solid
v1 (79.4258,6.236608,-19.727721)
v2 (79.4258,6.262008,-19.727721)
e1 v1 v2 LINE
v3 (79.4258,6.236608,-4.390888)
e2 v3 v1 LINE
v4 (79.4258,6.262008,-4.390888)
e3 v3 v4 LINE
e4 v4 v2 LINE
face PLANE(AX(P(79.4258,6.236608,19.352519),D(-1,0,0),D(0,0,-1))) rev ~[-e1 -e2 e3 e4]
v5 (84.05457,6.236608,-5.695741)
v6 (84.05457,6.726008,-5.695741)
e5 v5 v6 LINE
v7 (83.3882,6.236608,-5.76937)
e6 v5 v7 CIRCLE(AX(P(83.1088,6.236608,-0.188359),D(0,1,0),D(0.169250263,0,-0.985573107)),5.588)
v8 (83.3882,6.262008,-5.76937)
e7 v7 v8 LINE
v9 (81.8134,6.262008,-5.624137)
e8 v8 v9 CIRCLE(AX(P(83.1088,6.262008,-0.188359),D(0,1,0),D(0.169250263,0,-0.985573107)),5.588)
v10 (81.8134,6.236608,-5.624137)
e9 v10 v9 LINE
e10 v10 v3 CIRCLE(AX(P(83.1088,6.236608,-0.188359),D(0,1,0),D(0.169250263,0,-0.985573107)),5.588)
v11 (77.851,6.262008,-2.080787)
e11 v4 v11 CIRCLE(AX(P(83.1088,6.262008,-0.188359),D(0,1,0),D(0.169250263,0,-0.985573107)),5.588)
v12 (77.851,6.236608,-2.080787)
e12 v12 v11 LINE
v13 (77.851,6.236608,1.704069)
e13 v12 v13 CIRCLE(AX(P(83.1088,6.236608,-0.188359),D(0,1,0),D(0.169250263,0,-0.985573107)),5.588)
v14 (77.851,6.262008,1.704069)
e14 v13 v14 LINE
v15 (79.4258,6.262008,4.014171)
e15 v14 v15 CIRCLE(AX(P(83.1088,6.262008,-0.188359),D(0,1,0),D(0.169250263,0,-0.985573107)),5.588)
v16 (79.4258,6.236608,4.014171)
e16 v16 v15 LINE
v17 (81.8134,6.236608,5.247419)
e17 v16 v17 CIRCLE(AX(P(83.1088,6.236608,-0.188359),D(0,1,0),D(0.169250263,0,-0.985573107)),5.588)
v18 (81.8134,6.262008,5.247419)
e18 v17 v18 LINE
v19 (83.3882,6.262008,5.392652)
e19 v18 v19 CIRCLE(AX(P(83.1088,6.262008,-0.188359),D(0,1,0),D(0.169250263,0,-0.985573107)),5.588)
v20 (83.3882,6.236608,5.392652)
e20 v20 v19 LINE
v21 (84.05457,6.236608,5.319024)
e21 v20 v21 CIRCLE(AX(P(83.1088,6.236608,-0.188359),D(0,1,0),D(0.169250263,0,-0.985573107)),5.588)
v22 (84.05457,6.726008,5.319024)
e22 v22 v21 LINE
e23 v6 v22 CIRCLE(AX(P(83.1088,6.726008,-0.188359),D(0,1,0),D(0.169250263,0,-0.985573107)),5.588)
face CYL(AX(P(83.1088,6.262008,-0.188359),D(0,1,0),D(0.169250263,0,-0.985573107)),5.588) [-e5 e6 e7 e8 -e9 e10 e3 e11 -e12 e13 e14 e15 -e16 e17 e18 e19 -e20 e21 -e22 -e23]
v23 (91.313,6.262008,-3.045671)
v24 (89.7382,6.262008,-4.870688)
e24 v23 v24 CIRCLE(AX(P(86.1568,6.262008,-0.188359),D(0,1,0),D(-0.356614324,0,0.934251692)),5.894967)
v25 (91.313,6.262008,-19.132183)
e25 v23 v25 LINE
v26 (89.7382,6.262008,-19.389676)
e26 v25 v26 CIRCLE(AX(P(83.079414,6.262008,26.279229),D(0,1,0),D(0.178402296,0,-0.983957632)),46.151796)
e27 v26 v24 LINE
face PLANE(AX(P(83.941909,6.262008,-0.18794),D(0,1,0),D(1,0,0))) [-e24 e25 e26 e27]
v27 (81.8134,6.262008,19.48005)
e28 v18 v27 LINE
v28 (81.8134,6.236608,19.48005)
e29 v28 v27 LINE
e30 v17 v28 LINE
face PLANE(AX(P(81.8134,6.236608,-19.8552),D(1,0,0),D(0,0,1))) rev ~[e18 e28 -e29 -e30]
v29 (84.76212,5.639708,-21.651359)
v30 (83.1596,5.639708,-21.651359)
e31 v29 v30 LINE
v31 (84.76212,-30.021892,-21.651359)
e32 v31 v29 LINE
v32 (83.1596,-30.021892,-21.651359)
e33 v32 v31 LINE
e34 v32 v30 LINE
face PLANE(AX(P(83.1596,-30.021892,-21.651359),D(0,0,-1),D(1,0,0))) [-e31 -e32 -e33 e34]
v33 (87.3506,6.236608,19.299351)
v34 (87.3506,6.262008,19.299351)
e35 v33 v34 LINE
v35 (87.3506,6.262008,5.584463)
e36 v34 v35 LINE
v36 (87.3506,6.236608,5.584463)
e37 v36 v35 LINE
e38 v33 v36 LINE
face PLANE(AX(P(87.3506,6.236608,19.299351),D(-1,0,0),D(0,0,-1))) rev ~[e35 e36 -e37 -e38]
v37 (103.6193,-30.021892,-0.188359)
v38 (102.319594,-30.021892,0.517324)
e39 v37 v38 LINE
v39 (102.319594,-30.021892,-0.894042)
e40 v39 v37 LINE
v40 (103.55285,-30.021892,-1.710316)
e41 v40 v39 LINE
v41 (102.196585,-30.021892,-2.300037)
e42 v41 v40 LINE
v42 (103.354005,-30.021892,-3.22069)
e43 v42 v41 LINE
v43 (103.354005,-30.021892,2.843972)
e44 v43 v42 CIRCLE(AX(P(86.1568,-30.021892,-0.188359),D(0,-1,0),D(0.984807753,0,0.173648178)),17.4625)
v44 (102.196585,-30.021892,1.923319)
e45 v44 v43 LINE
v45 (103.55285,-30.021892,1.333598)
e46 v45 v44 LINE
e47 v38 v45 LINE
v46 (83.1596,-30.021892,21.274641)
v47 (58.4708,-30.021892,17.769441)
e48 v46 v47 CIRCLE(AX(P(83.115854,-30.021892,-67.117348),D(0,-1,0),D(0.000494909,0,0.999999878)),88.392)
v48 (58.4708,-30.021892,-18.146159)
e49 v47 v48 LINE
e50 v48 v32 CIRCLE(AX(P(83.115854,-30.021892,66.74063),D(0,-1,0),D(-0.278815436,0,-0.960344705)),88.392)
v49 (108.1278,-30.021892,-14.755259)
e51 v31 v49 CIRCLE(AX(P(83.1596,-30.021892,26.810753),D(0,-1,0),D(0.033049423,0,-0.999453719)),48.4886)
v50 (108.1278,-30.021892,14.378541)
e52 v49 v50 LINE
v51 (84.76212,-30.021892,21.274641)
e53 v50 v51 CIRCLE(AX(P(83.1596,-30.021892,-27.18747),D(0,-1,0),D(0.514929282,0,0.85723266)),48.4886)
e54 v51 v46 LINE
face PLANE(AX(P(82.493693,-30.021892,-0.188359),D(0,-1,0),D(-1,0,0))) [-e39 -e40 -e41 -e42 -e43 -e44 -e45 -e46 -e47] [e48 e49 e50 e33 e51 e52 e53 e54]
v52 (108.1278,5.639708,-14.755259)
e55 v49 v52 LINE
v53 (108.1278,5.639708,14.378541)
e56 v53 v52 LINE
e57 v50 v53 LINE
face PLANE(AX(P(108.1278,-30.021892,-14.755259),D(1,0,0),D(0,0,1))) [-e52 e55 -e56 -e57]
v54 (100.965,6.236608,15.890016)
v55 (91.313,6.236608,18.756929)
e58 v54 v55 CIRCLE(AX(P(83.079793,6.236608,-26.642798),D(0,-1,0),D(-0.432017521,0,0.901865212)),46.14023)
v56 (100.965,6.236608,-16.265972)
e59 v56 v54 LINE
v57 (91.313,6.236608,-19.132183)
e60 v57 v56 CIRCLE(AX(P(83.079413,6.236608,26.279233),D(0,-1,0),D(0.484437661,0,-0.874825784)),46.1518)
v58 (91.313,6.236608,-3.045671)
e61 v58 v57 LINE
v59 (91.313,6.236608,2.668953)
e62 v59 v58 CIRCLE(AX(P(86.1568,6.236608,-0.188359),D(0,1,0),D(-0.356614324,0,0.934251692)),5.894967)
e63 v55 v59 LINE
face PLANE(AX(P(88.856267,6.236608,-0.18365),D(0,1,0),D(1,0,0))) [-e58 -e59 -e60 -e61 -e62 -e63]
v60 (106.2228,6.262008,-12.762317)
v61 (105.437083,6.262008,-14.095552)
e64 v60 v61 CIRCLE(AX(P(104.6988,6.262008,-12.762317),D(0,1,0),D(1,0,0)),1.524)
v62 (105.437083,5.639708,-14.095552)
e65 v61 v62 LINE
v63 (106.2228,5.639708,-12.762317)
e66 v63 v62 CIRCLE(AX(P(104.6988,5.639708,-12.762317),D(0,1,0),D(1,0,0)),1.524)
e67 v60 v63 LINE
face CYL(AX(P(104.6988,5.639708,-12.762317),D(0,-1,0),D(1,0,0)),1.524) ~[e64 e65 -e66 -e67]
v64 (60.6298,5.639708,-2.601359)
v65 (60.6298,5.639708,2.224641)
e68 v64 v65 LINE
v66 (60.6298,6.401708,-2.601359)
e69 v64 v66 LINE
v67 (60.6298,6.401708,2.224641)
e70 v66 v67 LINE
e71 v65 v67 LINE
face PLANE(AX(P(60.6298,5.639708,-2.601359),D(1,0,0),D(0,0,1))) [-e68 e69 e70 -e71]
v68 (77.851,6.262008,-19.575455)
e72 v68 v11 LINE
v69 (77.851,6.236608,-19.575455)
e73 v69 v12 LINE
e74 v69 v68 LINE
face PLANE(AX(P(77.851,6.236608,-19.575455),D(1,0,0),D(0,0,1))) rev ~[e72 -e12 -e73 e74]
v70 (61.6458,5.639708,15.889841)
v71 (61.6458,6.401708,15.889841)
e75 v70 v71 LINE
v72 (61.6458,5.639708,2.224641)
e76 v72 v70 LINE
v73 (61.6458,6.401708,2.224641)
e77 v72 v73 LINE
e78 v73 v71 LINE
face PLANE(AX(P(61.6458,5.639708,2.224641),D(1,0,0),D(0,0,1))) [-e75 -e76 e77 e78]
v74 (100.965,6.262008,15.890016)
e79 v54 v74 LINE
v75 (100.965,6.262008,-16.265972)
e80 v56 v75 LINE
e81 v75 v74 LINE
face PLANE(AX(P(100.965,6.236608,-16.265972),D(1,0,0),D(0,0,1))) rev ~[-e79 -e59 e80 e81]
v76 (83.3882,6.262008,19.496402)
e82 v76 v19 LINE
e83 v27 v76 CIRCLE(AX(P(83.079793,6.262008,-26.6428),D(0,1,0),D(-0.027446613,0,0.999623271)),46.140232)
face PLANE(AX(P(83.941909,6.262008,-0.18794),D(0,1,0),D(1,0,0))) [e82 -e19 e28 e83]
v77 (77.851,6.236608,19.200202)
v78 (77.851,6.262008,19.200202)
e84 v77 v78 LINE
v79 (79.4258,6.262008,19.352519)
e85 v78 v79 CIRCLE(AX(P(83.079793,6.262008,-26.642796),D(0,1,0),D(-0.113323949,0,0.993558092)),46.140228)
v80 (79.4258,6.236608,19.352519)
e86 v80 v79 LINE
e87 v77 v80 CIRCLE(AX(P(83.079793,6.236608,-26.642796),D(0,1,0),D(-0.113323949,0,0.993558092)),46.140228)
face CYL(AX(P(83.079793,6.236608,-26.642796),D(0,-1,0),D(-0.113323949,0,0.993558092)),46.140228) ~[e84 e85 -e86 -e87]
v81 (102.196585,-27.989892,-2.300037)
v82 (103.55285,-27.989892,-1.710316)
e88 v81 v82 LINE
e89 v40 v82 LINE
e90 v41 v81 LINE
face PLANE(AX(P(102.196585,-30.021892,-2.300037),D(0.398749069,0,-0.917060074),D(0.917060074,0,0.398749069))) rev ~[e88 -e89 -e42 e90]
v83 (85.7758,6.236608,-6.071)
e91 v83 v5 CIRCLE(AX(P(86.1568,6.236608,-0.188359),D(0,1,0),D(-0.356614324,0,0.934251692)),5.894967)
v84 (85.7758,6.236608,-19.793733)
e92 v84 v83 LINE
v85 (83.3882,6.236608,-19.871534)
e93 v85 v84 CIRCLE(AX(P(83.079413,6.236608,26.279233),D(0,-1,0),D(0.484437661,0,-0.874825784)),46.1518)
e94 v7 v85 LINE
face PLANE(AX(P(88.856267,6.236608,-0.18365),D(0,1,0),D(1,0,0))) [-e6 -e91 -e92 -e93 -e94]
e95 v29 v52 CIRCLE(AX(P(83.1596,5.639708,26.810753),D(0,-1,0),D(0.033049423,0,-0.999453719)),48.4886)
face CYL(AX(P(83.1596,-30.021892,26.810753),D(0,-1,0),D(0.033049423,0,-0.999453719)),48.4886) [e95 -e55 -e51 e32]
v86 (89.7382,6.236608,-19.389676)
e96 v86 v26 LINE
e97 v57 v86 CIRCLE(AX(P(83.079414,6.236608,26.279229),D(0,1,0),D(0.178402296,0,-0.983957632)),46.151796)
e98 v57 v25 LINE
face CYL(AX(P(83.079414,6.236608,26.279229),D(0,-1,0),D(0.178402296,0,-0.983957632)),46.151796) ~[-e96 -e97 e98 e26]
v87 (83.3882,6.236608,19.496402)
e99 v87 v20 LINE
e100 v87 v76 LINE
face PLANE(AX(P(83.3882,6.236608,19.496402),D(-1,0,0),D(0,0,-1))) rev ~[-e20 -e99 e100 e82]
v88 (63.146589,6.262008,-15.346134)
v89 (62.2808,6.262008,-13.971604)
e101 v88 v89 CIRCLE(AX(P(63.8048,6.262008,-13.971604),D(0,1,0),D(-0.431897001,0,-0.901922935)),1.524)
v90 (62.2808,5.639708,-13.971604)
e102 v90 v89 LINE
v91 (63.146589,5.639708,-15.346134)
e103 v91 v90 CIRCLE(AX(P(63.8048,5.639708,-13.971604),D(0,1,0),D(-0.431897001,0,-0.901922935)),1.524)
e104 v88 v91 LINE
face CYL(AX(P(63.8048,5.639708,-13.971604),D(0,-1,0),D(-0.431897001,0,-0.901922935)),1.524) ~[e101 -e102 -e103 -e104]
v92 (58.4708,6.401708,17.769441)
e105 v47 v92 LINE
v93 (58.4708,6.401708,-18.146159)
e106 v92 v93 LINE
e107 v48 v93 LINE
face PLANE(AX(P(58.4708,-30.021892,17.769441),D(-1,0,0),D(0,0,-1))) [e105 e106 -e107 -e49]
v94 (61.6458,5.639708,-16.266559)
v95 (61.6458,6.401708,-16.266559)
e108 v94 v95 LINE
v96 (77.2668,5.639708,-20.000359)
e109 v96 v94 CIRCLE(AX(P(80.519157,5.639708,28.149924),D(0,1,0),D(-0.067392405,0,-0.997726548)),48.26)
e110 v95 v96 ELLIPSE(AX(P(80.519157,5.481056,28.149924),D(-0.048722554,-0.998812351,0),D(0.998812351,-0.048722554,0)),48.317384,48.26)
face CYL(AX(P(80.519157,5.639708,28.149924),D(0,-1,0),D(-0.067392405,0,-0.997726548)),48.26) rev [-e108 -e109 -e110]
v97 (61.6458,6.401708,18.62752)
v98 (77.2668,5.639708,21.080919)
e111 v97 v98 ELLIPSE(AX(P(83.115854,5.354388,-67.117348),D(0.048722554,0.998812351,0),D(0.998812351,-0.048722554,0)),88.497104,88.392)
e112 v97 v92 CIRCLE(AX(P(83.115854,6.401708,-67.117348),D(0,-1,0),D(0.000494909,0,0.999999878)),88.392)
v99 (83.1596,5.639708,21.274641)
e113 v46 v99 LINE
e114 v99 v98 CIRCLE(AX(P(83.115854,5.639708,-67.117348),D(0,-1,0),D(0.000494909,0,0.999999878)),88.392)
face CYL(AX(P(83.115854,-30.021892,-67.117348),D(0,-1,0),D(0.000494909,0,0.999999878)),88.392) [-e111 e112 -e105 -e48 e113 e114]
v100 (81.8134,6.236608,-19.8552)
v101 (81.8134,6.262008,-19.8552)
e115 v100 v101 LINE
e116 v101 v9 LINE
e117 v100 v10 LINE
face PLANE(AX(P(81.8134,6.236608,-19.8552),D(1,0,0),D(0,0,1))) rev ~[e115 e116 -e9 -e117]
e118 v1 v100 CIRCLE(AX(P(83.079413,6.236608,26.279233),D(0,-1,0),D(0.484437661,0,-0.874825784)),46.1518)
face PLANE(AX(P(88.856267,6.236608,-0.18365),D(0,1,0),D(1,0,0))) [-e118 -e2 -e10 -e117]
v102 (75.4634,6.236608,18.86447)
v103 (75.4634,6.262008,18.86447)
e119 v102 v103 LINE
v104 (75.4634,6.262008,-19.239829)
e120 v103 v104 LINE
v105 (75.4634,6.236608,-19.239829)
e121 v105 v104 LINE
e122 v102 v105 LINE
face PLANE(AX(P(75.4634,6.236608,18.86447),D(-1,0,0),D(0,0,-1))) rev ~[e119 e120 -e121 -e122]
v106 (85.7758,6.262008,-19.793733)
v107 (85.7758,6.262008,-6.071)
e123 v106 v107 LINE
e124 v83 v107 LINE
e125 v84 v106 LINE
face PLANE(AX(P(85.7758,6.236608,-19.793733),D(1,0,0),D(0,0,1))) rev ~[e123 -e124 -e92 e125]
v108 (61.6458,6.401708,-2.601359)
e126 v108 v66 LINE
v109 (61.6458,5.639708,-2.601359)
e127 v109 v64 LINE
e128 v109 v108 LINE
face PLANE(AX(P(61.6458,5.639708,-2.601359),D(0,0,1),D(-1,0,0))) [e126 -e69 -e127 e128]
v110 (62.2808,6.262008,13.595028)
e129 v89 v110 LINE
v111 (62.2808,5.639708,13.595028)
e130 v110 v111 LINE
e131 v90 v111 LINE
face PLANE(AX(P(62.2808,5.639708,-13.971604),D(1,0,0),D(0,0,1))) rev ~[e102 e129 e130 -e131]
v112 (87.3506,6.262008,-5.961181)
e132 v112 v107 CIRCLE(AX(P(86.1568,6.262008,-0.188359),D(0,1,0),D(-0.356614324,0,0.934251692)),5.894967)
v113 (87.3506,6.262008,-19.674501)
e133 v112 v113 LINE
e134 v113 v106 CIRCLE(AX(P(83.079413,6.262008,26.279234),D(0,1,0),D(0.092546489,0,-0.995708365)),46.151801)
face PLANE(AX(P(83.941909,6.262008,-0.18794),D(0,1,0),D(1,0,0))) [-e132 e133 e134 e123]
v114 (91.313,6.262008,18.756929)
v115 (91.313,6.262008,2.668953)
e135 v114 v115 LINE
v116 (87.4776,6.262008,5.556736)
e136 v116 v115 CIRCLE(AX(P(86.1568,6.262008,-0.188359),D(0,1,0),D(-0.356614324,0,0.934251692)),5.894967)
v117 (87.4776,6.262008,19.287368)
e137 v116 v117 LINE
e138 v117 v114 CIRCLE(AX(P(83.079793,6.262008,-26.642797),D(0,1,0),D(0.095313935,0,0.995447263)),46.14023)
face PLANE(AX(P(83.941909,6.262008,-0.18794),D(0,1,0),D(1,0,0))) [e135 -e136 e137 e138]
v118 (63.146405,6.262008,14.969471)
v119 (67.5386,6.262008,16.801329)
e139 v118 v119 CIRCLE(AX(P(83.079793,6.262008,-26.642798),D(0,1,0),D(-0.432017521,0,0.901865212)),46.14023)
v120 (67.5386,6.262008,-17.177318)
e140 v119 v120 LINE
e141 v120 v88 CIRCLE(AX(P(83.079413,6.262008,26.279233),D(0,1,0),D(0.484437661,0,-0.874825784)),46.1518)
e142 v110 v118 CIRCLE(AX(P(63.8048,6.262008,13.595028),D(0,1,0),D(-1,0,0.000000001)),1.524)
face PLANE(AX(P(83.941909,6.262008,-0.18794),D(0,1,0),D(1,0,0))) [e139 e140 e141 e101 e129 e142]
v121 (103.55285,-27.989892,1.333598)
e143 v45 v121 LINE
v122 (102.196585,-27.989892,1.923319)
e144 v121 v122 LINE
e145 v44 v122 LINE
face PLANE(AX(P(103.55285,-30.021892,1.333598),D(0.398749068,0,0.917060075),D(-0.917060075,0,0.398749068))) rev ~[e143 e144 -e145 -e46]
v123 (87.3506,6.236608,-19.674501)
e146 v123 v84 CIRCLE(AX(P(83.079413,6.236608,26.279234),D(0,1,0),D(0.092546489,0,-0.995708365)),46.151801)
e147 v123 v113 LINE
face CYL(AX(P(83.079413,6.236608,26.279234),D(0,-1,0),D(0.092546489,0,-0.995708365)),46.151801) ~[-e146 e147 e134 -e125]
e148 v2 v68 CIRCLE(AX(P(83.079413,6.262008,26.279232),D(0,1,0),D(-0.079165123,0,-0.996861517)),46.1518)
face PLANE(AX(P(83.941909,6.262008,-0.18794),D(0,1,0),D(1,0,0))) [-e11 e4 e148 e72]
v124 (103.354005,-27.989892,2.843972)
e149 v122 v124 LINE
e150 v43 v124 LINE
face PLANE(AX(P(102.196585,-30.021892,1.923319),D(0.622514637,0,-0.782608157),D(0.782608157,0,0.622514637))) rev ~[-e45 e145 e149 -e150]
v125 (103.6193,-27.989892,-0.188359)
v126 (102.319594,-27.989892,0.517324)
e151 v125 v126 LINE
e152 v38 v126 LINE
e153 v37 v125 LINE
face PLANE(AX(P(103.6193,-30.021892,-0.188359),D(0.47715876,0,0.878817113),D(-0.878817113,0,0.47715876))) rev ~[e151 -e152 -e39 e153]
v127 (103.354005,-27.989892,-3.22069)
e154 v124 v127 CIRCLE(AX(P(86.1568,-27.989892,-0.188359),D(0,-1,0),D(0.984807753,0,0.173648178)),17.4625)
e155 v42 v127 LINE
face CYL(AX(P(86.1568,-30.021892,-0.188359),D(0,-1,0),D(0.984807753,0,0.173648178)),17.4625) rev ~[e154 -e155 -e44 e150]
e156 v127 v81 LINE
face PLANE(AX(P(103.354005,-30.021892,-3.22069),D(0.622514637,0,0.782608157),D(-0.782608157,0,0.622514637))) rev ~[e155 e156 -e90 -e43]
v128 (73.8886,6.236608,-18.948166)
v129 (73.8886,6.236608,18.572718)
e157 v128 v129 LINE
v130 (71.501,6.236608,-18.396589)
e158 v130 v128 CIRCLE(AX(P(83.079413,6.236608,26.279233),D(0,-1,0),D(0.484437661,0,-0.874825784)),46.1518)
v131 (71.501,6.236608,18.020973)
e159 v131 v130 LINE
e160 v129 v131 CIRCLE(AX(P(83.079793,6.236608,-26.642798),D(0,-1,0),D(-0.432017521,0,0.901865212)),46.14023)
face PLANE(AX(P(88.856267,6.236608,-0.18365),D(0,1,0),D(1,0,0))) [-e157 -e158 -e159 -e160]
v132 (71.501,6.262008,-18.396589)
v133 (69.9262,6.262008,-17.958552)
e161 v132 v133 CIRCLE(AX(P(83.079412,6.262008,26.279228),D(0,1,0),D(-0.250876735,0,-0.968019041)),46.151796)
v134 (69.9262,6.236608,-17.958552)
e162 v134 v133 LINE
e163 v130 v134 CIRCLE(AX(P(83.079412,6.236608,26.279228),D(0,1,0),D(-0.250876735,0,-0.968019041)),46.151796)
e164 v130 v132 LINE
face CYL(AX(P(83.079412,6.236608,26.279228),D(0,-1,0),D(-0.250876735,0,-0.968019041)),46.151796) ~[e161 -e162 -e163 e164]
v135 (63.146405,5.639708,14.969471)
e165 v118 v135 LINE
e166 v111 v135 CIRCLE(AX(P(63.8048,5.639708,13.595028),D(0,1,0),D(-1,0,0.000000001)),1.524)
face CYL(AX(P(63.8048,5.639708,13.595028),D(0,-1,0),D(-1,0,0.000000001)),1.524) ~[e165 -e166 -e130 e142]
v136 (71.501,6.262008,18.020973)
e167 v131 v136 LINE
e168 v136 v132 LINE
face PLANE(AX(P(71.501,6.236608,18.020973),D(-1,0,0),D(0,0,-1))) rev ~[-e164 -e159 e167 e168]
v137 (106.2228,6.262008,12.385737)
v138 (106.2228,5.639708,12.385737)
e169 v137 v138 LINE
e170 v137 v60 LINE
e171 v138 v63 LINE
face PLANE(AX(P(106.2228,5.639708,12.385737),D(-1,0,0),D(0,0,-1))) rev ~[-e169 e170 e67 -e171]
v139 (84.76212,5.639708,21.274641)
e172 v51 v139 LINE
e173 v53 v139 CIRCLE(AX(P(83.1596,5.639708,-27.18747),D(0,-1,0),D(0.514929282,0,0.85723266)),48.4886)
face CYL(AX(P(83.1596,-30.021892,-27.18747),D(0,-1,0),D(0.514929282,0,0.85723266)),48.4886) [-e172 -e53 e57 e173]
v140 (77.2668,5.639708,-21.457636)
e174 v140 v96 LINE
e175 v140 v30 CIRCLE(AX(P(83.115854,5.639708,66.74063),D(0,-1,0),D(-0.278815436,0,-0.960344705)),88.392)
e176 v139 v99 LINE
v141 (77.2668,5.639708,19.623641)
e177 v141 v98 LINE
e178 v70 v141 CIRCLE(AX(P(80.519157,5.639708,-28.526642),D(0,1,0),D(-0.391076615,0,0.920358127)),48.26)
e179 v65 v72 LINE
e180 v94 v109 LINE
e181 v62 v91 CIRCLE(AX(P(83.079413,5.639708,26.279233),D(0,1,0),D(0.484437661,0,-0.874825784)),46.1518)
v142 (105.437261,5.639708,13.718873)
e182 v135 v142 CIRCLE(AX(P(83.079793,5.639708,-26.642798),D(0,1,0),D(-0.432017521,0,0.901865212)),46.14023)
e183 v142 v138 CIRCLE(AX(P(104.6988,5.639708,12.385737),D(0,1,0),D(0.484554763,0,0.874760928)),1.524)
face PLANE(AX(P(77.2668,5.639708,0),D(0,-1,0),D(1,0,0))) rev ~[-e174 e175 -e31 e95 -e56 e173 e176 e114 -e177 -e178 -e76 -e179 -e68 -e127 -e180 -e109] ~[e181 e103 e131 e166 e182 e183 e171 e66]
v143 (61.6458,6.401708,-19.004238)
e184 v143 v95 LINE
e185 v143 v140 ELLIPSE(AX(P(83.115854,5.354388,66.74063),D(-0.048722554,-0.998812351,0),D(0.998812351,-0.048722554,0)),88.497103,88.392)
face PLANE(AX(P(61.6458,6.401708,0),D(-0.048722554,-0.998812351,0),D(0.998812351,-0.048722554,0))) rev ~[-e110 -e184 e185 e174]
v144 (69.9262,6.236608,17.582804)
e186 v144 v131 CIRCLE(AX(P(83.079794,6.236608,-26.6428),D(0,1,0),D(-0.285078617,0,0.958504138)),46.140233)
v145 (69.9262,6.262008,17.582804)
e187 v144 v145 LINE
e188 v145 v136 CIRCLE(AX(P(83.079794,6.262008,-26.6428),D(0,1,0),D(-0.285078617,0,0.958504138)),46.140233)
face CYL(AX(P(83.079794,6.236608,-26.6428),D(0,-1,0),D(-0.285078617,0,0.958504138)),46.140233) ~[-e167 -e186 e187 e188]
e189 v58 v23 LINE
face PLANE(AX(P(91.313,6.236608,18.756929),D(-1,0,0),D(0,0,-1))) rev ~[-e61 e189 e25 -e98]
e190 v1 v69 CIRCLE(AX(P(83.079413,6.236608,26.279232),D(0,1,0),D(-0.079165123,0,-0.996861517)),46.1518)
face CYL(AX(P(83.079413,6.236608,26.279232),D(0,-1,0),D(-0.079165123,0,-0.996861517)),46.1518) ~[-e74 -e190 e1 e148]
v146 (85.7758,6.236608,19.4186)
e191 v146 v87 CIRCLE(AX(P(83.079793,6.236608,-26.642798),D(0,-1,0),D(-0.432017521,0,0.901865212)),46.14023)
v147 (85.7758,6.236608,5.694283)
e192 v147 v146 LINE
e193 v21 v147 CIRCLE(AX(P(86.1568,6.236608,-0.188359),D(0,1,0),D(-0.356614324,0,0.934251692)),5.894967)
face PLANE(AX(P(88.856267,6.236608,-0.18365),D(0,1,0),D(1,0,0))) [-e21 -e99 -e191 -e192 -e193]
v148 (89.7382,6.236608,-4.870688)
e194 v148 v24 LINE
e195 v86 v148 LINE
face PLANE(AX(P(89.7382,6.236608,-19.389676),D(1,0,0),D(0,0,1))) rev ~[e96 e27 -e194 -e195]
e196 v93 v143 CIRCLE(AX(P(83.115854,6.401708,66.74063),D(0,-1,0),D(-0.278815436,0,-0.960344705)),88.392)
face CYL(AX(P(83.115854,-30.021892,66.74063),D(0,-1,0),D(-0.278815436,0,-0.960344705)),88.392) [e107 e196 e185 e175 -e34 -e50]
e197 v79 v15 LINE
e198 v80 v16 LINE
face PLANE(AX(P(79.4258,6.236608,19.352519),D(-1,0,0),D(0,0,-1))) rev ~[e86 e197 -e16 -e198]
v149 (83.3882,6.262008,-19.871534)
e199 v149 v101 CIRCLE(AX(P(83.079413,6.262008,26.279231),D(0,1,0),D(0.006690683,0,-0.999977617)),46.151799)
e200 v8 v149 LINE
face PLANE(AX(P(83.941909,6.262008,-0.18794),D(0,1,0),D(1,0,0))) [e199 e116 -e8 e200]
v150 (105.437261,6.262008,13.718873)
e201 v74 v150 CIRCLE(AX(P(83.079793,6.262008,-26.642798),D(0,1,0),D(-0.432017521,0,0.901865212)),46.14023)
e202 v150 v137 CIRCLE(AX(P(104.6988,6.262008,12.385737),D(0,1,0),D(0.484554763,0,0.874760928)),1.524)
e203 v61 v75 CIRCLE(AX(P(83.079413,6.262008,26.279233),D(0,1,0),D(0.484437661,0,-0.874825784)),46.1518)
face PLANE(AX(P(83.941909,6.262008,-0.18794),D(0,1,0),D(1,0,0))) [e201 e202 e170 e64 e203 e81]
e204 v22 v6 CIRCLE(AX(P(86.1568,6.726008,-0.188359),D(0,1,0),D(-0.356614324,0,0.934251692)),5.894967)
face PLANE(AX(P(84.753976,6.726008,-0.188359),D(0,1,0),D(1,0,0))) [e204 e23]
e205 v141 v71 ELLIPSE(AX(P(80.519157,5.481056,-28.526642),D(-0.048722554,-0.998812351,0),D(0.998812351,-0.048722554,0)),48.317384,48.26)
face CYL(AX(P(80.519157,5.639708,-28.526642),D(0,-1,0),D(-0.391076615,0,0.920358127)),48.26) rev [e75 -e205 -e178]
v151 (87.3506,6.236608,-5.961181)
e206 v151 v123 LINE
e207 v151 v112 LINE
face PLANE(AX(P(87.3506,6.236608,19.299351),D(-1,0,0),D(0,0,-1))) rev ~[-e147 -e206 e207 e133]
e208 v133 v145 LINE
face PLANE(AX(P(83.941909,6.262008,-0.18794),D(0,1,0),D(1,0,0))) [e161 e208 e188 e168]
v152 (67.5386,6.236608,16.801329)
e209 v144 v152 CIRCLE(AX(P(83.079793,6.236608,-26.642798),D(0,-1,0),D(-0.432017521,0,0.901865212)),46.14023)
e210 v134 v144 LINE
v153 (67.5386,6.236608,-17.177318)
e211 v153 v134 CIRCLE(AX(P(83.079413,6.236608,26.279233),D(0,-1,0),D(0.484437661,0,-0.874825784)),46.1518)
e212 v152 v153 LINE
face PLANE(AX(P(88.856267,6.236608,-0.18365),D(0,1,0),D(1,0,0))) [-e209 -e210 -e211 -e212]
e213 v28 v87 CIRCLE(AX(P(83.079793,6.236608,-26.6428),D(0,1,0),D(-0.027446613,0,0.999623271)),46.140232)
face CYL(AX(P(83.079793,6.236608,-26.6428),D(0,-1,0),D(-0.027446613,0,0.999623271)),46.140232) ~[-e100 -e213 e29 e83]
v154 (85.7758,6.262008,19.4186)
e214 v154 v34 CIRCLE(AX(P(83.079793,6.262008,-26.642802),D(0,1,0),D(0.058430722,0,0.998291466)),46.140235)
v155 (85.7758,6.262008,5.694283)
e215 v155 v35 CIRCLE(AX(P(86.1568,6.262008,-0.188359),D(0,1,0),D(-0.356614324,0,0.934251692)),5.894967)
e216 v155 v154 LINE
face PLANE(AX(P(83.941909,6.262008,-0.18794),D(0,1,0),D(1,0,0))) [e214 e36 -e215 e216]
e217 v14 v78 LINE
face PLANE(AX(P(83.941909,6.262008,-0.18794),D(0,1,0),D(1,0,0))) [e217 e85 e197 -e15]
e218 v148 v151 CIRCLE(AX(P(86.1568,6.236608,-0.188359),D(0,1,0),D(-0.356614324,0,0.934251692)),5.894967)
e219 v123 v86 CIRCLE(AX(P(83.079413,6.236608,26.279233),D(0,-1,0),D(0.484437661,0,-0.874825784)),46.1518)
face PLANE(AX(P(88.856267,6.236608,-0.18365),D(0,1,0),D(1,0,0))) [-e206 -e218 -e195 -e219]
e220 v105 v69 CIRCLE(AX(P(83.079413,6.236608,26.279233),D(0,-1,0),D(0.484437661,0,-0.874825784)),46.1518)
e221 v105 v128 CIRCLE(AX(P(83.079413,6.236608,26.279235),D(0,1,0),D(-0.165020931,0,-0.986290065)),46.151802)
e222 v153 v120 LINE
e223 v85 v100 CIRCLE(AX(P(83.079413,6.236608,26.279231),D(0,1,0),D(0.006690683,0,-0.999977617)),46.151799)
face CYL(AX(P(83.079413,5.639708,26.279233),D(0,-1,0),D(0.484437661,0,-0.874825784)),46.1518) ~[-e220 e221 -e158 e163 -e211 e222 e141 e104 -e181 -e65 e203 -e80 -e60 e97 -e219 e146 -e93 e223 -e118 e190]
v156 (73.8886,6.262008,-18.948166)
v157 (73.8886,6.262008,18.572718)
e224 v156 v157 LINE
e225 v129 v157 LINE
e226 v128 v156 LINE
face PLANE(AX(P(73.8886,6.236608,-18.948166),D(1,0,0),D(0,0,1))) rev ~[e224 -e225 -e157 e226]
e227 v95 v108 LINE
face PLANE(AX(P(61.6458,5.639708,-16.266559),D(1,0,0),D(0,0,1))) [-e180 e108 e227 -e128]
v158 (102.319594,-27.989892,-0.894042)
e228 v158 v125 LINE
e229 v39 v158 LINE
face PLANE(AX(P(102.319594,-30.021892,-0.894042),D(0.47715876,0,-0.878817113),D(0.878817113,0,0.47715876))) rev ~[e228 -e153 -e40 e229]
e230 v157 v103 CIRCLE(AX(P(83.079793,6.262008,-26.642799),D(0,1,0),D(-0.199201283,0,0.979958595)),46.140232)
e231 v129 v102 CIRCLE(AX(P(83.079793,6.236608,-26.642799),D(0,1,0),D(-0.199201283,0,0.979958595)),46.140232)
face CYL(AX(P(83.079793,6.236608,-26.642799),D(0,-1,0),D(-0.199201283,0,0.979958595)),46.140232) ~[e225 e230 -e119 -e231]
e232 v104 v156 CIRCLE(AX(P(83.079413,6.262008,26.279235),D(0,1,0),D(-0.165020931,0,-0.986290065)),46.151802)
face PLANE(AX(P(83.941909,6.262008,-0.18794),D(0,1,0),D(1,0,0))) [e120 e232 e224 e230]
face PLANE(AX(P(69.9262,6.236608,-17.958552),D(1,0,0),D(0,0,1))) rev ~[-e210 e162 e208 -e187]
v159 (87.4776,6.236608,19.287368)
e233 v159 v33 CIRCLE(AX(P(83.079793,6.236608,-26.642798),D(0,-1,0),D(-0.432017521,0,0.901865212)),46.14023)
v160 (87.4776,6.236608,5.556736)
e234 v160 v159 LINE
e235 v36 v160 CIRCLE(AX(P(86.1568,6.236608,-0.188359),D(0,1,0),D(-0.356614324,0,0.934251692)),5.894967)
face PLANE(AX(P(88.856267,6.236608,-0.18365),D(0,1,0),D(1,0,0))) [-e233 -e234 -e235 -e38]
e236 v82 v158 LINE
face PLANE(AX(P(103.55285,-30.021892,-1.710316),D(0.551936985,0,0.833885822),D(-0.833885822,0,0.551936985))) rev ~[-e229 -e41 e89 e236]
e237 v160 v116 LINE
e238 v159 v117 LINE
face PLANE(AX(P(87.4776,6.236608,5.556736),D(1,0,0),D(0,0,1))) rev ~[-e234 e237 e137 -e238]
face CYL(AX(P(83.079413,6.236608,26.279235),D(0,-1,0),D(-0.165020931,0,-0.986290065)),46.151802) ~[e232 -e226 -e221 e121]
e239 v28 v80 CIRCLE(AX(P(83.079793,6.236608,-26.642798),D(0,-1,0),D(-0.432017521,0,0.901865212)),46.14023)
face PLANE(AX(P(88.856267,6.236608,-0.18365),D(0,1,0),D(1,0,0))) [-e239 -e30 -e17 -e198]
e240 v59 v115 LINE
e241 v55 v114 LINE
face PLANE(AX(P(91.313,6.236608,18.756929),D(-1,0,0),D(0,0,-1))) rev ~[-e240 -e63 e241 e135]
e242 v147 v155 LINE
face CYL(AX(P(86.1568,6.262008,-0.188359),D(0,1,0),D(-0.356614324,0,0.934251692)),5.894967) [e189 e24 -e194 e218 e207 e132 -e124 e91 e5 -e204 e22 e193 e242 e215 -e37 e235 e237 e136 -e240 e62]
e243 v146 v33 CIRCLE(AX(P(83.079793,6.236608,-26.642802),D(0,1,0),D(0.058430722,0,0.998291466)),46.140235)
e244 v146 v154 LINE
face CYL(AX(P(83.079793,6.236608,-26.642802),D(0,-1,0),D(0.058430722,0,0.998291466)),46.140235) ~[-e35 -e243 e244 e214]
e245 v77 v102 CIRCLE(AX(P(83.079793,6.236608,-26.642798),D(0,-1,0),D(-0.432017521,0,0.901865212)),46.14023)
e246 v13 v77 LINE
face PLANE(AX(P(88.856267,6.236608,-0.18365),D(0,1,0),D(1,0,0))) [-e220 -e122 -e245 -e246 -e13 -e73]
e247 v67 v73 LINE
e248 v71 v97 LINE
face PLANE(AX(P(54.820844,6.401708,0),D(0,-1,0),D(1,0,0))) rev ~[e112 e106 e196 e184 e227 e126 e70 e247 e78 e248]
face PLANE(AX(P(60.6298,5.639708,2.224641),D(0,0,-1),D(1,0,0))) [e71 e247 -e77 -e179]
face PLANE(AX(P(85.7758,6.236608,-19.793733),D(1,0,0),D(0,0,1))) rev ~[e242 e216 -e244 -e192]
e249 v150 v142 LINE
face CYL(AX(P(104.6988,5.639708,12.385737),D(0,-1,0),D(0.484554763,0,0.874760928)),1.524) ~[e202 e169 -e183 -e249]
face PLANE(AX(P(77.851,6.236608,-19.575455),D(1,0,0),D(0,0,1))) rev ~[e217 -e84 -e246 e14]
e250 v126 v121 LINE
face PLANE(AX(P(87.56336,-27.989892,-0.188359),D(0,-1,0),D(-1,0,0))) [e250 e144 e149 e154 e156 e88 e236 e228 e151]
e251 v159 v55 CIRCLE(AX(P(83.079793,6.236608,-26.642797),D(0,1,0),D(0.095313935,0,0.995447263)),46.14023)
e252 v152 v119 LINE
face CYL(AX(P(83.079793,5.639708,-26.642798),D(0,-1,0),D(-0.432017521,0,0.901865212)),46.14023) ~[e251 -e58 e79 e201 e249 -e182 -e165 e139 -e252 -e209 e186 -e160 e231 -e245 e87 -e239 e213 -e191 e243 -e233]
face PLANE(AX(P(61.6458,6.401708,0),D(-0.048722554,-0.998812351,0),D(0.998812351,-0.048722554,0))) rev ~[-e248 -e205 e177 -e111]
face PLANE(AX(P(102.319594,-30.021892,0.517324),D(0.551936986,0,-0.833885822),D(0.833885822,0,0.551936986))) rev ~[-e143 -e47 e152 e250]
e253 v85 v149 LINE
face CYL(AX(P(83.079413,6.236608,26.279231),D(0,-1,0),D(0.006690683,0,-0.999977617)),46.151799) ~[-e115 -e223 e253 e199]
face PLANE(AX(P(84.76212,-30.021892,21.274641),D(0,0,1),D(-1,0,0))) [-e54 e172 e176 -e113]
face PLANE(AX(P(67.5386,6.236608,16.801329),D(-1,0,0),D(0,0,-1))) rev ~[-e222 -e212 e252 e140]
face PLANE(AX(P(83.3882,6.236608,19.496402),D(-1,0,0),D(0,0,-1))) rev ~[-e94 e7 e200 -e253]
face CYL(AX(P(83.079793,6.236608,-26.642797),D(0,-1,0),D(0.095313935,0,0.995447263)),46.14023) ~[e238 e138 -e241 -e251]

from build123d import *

# Parameters (mm, degrees)
BOSS_EXTRUDE1_DEPTH      = 40
CUT_EXTRUDE1_DEPTH       = 40
CUT_EXTRUDE1_DEPTH_BACK  = 40
CUT_EXTRUDE2_DEPTH       = 40
BOSS_EXTRUDE2_DEPTH      = 0.6223
CUT_EXTRUDE3_DEPTH       = 0.0254
CUT_EXTRUDE4_DEPTH       = 2.032
BOSS_EXTRUDE3_DEPTH      = 0.464
BOSS_EXTRUDE3_DEPTH_BACK = 0.464


with BuildPart() as part:
    # Sketch1 → Boss-Extrude1 (new body)
    with BuildSketch(Plane(origin=(0, -30.021892368, 0), x_dir=(-1, 0, 0), z_dir=(0, -1, 0))):
        with BuildLine():
            Line((-83.1596, 21.651358884), (-84.762120236, 21.651358884))
            ThreePointArc((-84.762120236, 21.651358884), (-96.885117924, 19.694671586), (-108.1278, 14.755258884))
            Line((-108.1278, 14.755258884), (-108.1278, -14.378541116))
            ThreePointArc((-108.1278, -14.378541116), (-96.885117924, -19.317953818), (-84.762120236, -21.274641116))
            Line((-84.762120236, -21.274641116), (-83.1596, -21.274641116))
            ThreePointArc((-83.1596, -21.274641116), (-70.690971885, -20.397039146), (-58.4708, -17.769441116))
            Line((-58.4708, -17.769441116), (-58.4708, 18.146158884))
            ThreePointArc((-58.4708, 18.146158884), (-70.690971885, 20.773756915), (-83.1596, 21.651358884))
        make_face()
    extrude(amount=-BOSS_EXTRUDE1_DEPTH)

    # Sketch2 → Cut-Extrude1 (cut, two sides)
    with BuildSketch(Plane.XY) as cut_extrude1_sk:
        Polygon((54.820843696, 15.118469848), (54.820843696, 6.401707632), (61.6458, 6.401707632), (77.2668, 5.639707632), (110.448229866, 5.639707632), (110.448229866, 15.118469848), align=None)
    extrude(amount=CUT_EXTRUDE1_DEPTH, mode=Mode.SUBTRACT)
    extrude(cut_extrude1_sk.sketch, amount=-CUT_EXTRUDE1_DEPTH_BACK, mode=Mode.SUBTRACT)

    # Sketch3 → Cut-Extrude2 (cut)
    with BuildSketch(Plane(origin=(0, 5.639707632, 0), x_dir=(1, 0, 0), z_dir=(0, 1, 0))):
        with BuildLine():
            Line((60.6298, -2.224641116), (61.6458, -2.224641116))
            Line((61.6458, -2.224641116), (61.6458, -15.889841116))
            ThreePointArc((61.6458, -15.889841116), (69.299882493, -18.411140892), (77.2668, -19.623641116))
            Line((77.2668, -19.623641116), (77.2668, -24.484863345))
            Line((77.2668, -24.484863345), (116.145527093, -24.484863345))
            Line((116.145527093, -24.484863345), (116.145527093, 24.141945465))
            Line((116.145527093, 24.141945465), (77.2668, 24.141945465))
            Line((77.2668, 24.141945465), (77.2668, 20.000358884))
            ThreePointArc((77.2668, 20.000358884), (69.299882493, 18.78785866), (61.6458, 16.266558884))
            Line((61.6458, 16.266558884), (61.6458, 2.601358884))
            Line((61.6458, 2.601358884), (60.6298, 2.601358884))
            Line((60.6298, 2.601358884), (60.6298, -2.224641116))
        make_face()
    extrude(amount=CUT_EXTRUDE2_DEPTH, mode=Mode.SUBTRACT)

    # Sketch4 → Boss-Extrude2 (add)
    with BuildSketch(Plane(origin=(0, 5.639707632, 0), x_dir=(1, 0, 0), z_dir=(0, 1, 0))):
        with BuildLine():
            Line((62.2808, 13.97160372), (62.2808, -13.595028424))
            ThreePointArc((62.2808, -13.595028424), (62.515232291, -14.407180579), (63.146405148, -14.969470936))
            ThreePointArc((63.146405148, -14.969470936), (84.443626018, -19.477271857), (105.437261458, -13.718873038))
            ThreePointArc((105.437261458, -13.718873038), (106.011810141, -13.159417141), (106.2228, -12.385737382))
            Line((106.2228, -12.385737382), (106.2228, 12.76231749))
            ThreePointArc((106.2228, 12.76231749), (106.011758355, 13.536085129), (105.437082995, 14.095551986))
            ThreePointArc((105.437082995, 14.095551986), (84.443582525, 19.852401671), (63.146588971, 15.346134273))
            ThreePointArc((63.146588971, 15.346134273), (62.515286602, 14.783842106), (62.2808, 13.97160372))
        make_face()
    extrude(amount=BOSS_EXTRUDE2_DEPTH)

    # Sketch5 → Cut-Extrude3 (cut)
    with BuildSketch(Plane(origin=(0, 6.236607632, 0), x_dir=(1, 0, 0), z_dir=(0, 1, 0))):
        Polygon((60.8798, -1.974641116), (61.8958, -1.974641116), (61.8958, -15.724128062), (70.725222183, -18.261597014), (77.5168, -19.389388124), (77.5168, -26.279232644), (112.598613265, -26.279232644), (112.598613265, 26.642797699), (77.5168, 26.642797699), (77.5168, 19.766105893), (68.79799987, 18.208824767), (61.8958, 16.100845831), (61.8958, 2.351358884), (60.8798, 2.351358884), align=None)
        with BuildLine():
            Line((106.2228, -12.385737382), (106.2228, 12.76231749))
            ThreePointArc((106.2228, 12.76231749), (106.011758355, 13.536085129), (105.437082995, 14.095551986))
            ThreePointArc((105.437082995, 14.095551986), (103.230284294, 15.241015763), (100.965, 16.26597178))
            Line((100.965, 16.26597178), (100.965, -15.890015871))
            ThreePointArc((100.965, -15.890015871), (103.230393421, -14.864721653), (105.437261458, -13.718873038))
            ThreePointArc((105.437261458, -13.718873038), (106.011810141, -13.159417141), (106.2228, -12.385737382))
        make_face(mode=Mode.SUBTRACT)
        with BuildLine():
            Line((87.4776, -5.556736292), (87.4776, -19.287368321))
            ThreePointArc((87.4776, -19.287368321), (89.400866501, -19.062397708), (91.313, -18.756928734))
            Line((91.313, -18.756928734), (91.313, 19.132183186))
            ThreePointArc((91.313, 19.132183186), (90.526712944, 19.267736149), (89.7382, 19.389675799))
            Line((89.7382, 19.389675799), (89.7382, 4.870687927))
            Line((89.7382, 4.870687927), (87.4776, -5.556736292))
        make_face(mode=Mode.SUBTRACT)
        with BuildLine():
            Line((87.3506, -19.299351408), (87.3506, 19.674500659))
            ThreePointArc((87.3506, 19.674500659), (86.56371005, 19.740853373), (85.7758, 19.79373275))
            Line((85.7758, 19.79373275), (85.7758, -19.418600488))
            ThreePointArc((85.7758, -19.418600488), (86.563710251, -19.365714311), (87.3506, -19.299351408))
        make_face(mode=Mode.SUBTRACT)
        with BuildLine():
            Line((83.3882, -19.496401918), (83.3882, 19.871534346))
            ThreePointArc((83.3882, 19.871534346), (82.60073032, 19.870084861), (81.8134, 19.855199773))
            Line((81.8134, 19.855199773), (81.8134, -19.480050269))
            ThreePointArc((81.8134, -19.480050269), (82.600730229, -19.49494558), (83.3882, -19.496401918))
        make_face(mode=Mode.SUBTRACT)
        with BuildLine():
            Line((79.4258, -19.352519351), (79.4258, 19.727720695))
            ThreePointArc((79.4258, 19.727720695), (78.637747467, 19.658336413), (77.851, 19.575454588))
            Line((77.851, 19.575454588), (77.851, -19.200201536))
            ThreePointArc((77.851, -19.200201536), (78.63774708, -19.283110929), (79.4258, -19.352519351))
        make_face(mode=Mode.SUBTRACT)
        with BuildLine():
            Line((73.8886, 18.948166135), (73.8886, -18.57271762))
            ThreePointArc((73.8886, -18.57271762), (74.674734009, -18.725427281), (75.4634, -18.864469988))
            Line((75.4634, -18.864469988), (75.4634, 19.239829185))
            ThreePointArc((75.4634, 19.239829185), (74.674734726, 19.100829354), (73.8886, 18.948166135))
        make_face(mode=Mode.SUBTRACT)
        with BuildLine():
            Line((69.9262, 17.958552472), (69.9262, -17.58280399))
            ThreePointArc((69.9262, -17.58280399), (70.711659458, -17.808862859), (71.501, -18.020972927))
            Line((71.501, -18.020972927), (71.501, 18.396588518))
            ThreePointArc((71.501, 18.396588518), (70.711660575, 18.184542996), (69.9262, 17.958552472))
        make_face(mode=Mode.SUBTRACT)
        with BuildLine():
            Line((67.5386, -16.801329329), (67.5386, 17.177317791))
            ThreePointArc((67.5386, 17.177317791), (65.318978341, 16.31836829), (63.146588971, 15.346134273))
            ThreePointArc((63.146588971, 15.346134273), (62.515286602, 14.783842106), (62.2808, 13.97160372))
            Line((62.2808, 13.97160372), (62.2808, -13.595028424))
            ThreePointArc((62.2808, -13.595028424), (62.515232309, -14.407180609), (63.146405211, -14.969470967))
            ThreePointArc((63.146405211, -14.969470967), (65.318869691, -15.942064117), (67.5386, -16.801329329))
        make_face(mode=Mode.SUBTRACT)
    extrude(amount=CUT_EXTRUDE3_DEPTH, mode=Mode.SUBTRACT)

    # Sketch6 → Cut-Extrude4 (cut)
    with BuildSketch(Plane(origin=(0, -30.021892368, 0), x_dir=(-1, 0, 0), z_dir=(0, -1, 0))):
        with BuildLine():
            Line((-103.354005387, 3.220690187), (-102.196585301, 2.30003668))
            Line((-102.196585301, 2.30003668), (-103.552849915, 1.710316042))
            Line((-103.552849915, 1.710316042), (-102.319593922, 0.894041707))
            Line((-102.319593922, 0.894041707), (-103.6193, 0.188358884))
            Line((-103.6193, 0.188358884), (-102.319593922, -0.517323938))
            Line((-102.319593922, -0.517323938), (-103.552849915, -1.333598274))
            Line((-103.552849915, -1.333598274), (-102.196585301, -1.923318911))
            Line((-102.196585301, -1.923318911), (-103.354005387, -2.843972418))
            ThreePointArc((-103.354005387, -2.843972418), (-68.6943, 0.188358884), (-103.354005387, 3.220690187))
        make_face()
    extrude(amount=-CUT_EXTRUDE4_DEPTH, mode=Mode.SUBTRACT)

    # Sketch7 → Boss-Extrude3 (add, two sides)
    with BuildSketch(Plane(origin=(0, 6.262007632, 0), x_dir=(1, 0, 0), z_dir=(0, 1, 0))) as boss_extrude3_sk:
        with BuildLine():
            ThreePointArc((84.054570469, -5.319023636), (92.051766601, 0.188358884), (84.054570469, 5.695741404))
            ThreePointArc((84.054570469, 5.695741404), (77.5208, 0.188358884), (84.054570469, -5.319023636))
        make_face()
    extrude(amount=BOSS_EXTRUDE3_DEPTH)
    extrude(boss_extrude3_sk.sketch, amount=-BOSS_EXTRUDE3_DEPTH_BACK)


solid = part.part
